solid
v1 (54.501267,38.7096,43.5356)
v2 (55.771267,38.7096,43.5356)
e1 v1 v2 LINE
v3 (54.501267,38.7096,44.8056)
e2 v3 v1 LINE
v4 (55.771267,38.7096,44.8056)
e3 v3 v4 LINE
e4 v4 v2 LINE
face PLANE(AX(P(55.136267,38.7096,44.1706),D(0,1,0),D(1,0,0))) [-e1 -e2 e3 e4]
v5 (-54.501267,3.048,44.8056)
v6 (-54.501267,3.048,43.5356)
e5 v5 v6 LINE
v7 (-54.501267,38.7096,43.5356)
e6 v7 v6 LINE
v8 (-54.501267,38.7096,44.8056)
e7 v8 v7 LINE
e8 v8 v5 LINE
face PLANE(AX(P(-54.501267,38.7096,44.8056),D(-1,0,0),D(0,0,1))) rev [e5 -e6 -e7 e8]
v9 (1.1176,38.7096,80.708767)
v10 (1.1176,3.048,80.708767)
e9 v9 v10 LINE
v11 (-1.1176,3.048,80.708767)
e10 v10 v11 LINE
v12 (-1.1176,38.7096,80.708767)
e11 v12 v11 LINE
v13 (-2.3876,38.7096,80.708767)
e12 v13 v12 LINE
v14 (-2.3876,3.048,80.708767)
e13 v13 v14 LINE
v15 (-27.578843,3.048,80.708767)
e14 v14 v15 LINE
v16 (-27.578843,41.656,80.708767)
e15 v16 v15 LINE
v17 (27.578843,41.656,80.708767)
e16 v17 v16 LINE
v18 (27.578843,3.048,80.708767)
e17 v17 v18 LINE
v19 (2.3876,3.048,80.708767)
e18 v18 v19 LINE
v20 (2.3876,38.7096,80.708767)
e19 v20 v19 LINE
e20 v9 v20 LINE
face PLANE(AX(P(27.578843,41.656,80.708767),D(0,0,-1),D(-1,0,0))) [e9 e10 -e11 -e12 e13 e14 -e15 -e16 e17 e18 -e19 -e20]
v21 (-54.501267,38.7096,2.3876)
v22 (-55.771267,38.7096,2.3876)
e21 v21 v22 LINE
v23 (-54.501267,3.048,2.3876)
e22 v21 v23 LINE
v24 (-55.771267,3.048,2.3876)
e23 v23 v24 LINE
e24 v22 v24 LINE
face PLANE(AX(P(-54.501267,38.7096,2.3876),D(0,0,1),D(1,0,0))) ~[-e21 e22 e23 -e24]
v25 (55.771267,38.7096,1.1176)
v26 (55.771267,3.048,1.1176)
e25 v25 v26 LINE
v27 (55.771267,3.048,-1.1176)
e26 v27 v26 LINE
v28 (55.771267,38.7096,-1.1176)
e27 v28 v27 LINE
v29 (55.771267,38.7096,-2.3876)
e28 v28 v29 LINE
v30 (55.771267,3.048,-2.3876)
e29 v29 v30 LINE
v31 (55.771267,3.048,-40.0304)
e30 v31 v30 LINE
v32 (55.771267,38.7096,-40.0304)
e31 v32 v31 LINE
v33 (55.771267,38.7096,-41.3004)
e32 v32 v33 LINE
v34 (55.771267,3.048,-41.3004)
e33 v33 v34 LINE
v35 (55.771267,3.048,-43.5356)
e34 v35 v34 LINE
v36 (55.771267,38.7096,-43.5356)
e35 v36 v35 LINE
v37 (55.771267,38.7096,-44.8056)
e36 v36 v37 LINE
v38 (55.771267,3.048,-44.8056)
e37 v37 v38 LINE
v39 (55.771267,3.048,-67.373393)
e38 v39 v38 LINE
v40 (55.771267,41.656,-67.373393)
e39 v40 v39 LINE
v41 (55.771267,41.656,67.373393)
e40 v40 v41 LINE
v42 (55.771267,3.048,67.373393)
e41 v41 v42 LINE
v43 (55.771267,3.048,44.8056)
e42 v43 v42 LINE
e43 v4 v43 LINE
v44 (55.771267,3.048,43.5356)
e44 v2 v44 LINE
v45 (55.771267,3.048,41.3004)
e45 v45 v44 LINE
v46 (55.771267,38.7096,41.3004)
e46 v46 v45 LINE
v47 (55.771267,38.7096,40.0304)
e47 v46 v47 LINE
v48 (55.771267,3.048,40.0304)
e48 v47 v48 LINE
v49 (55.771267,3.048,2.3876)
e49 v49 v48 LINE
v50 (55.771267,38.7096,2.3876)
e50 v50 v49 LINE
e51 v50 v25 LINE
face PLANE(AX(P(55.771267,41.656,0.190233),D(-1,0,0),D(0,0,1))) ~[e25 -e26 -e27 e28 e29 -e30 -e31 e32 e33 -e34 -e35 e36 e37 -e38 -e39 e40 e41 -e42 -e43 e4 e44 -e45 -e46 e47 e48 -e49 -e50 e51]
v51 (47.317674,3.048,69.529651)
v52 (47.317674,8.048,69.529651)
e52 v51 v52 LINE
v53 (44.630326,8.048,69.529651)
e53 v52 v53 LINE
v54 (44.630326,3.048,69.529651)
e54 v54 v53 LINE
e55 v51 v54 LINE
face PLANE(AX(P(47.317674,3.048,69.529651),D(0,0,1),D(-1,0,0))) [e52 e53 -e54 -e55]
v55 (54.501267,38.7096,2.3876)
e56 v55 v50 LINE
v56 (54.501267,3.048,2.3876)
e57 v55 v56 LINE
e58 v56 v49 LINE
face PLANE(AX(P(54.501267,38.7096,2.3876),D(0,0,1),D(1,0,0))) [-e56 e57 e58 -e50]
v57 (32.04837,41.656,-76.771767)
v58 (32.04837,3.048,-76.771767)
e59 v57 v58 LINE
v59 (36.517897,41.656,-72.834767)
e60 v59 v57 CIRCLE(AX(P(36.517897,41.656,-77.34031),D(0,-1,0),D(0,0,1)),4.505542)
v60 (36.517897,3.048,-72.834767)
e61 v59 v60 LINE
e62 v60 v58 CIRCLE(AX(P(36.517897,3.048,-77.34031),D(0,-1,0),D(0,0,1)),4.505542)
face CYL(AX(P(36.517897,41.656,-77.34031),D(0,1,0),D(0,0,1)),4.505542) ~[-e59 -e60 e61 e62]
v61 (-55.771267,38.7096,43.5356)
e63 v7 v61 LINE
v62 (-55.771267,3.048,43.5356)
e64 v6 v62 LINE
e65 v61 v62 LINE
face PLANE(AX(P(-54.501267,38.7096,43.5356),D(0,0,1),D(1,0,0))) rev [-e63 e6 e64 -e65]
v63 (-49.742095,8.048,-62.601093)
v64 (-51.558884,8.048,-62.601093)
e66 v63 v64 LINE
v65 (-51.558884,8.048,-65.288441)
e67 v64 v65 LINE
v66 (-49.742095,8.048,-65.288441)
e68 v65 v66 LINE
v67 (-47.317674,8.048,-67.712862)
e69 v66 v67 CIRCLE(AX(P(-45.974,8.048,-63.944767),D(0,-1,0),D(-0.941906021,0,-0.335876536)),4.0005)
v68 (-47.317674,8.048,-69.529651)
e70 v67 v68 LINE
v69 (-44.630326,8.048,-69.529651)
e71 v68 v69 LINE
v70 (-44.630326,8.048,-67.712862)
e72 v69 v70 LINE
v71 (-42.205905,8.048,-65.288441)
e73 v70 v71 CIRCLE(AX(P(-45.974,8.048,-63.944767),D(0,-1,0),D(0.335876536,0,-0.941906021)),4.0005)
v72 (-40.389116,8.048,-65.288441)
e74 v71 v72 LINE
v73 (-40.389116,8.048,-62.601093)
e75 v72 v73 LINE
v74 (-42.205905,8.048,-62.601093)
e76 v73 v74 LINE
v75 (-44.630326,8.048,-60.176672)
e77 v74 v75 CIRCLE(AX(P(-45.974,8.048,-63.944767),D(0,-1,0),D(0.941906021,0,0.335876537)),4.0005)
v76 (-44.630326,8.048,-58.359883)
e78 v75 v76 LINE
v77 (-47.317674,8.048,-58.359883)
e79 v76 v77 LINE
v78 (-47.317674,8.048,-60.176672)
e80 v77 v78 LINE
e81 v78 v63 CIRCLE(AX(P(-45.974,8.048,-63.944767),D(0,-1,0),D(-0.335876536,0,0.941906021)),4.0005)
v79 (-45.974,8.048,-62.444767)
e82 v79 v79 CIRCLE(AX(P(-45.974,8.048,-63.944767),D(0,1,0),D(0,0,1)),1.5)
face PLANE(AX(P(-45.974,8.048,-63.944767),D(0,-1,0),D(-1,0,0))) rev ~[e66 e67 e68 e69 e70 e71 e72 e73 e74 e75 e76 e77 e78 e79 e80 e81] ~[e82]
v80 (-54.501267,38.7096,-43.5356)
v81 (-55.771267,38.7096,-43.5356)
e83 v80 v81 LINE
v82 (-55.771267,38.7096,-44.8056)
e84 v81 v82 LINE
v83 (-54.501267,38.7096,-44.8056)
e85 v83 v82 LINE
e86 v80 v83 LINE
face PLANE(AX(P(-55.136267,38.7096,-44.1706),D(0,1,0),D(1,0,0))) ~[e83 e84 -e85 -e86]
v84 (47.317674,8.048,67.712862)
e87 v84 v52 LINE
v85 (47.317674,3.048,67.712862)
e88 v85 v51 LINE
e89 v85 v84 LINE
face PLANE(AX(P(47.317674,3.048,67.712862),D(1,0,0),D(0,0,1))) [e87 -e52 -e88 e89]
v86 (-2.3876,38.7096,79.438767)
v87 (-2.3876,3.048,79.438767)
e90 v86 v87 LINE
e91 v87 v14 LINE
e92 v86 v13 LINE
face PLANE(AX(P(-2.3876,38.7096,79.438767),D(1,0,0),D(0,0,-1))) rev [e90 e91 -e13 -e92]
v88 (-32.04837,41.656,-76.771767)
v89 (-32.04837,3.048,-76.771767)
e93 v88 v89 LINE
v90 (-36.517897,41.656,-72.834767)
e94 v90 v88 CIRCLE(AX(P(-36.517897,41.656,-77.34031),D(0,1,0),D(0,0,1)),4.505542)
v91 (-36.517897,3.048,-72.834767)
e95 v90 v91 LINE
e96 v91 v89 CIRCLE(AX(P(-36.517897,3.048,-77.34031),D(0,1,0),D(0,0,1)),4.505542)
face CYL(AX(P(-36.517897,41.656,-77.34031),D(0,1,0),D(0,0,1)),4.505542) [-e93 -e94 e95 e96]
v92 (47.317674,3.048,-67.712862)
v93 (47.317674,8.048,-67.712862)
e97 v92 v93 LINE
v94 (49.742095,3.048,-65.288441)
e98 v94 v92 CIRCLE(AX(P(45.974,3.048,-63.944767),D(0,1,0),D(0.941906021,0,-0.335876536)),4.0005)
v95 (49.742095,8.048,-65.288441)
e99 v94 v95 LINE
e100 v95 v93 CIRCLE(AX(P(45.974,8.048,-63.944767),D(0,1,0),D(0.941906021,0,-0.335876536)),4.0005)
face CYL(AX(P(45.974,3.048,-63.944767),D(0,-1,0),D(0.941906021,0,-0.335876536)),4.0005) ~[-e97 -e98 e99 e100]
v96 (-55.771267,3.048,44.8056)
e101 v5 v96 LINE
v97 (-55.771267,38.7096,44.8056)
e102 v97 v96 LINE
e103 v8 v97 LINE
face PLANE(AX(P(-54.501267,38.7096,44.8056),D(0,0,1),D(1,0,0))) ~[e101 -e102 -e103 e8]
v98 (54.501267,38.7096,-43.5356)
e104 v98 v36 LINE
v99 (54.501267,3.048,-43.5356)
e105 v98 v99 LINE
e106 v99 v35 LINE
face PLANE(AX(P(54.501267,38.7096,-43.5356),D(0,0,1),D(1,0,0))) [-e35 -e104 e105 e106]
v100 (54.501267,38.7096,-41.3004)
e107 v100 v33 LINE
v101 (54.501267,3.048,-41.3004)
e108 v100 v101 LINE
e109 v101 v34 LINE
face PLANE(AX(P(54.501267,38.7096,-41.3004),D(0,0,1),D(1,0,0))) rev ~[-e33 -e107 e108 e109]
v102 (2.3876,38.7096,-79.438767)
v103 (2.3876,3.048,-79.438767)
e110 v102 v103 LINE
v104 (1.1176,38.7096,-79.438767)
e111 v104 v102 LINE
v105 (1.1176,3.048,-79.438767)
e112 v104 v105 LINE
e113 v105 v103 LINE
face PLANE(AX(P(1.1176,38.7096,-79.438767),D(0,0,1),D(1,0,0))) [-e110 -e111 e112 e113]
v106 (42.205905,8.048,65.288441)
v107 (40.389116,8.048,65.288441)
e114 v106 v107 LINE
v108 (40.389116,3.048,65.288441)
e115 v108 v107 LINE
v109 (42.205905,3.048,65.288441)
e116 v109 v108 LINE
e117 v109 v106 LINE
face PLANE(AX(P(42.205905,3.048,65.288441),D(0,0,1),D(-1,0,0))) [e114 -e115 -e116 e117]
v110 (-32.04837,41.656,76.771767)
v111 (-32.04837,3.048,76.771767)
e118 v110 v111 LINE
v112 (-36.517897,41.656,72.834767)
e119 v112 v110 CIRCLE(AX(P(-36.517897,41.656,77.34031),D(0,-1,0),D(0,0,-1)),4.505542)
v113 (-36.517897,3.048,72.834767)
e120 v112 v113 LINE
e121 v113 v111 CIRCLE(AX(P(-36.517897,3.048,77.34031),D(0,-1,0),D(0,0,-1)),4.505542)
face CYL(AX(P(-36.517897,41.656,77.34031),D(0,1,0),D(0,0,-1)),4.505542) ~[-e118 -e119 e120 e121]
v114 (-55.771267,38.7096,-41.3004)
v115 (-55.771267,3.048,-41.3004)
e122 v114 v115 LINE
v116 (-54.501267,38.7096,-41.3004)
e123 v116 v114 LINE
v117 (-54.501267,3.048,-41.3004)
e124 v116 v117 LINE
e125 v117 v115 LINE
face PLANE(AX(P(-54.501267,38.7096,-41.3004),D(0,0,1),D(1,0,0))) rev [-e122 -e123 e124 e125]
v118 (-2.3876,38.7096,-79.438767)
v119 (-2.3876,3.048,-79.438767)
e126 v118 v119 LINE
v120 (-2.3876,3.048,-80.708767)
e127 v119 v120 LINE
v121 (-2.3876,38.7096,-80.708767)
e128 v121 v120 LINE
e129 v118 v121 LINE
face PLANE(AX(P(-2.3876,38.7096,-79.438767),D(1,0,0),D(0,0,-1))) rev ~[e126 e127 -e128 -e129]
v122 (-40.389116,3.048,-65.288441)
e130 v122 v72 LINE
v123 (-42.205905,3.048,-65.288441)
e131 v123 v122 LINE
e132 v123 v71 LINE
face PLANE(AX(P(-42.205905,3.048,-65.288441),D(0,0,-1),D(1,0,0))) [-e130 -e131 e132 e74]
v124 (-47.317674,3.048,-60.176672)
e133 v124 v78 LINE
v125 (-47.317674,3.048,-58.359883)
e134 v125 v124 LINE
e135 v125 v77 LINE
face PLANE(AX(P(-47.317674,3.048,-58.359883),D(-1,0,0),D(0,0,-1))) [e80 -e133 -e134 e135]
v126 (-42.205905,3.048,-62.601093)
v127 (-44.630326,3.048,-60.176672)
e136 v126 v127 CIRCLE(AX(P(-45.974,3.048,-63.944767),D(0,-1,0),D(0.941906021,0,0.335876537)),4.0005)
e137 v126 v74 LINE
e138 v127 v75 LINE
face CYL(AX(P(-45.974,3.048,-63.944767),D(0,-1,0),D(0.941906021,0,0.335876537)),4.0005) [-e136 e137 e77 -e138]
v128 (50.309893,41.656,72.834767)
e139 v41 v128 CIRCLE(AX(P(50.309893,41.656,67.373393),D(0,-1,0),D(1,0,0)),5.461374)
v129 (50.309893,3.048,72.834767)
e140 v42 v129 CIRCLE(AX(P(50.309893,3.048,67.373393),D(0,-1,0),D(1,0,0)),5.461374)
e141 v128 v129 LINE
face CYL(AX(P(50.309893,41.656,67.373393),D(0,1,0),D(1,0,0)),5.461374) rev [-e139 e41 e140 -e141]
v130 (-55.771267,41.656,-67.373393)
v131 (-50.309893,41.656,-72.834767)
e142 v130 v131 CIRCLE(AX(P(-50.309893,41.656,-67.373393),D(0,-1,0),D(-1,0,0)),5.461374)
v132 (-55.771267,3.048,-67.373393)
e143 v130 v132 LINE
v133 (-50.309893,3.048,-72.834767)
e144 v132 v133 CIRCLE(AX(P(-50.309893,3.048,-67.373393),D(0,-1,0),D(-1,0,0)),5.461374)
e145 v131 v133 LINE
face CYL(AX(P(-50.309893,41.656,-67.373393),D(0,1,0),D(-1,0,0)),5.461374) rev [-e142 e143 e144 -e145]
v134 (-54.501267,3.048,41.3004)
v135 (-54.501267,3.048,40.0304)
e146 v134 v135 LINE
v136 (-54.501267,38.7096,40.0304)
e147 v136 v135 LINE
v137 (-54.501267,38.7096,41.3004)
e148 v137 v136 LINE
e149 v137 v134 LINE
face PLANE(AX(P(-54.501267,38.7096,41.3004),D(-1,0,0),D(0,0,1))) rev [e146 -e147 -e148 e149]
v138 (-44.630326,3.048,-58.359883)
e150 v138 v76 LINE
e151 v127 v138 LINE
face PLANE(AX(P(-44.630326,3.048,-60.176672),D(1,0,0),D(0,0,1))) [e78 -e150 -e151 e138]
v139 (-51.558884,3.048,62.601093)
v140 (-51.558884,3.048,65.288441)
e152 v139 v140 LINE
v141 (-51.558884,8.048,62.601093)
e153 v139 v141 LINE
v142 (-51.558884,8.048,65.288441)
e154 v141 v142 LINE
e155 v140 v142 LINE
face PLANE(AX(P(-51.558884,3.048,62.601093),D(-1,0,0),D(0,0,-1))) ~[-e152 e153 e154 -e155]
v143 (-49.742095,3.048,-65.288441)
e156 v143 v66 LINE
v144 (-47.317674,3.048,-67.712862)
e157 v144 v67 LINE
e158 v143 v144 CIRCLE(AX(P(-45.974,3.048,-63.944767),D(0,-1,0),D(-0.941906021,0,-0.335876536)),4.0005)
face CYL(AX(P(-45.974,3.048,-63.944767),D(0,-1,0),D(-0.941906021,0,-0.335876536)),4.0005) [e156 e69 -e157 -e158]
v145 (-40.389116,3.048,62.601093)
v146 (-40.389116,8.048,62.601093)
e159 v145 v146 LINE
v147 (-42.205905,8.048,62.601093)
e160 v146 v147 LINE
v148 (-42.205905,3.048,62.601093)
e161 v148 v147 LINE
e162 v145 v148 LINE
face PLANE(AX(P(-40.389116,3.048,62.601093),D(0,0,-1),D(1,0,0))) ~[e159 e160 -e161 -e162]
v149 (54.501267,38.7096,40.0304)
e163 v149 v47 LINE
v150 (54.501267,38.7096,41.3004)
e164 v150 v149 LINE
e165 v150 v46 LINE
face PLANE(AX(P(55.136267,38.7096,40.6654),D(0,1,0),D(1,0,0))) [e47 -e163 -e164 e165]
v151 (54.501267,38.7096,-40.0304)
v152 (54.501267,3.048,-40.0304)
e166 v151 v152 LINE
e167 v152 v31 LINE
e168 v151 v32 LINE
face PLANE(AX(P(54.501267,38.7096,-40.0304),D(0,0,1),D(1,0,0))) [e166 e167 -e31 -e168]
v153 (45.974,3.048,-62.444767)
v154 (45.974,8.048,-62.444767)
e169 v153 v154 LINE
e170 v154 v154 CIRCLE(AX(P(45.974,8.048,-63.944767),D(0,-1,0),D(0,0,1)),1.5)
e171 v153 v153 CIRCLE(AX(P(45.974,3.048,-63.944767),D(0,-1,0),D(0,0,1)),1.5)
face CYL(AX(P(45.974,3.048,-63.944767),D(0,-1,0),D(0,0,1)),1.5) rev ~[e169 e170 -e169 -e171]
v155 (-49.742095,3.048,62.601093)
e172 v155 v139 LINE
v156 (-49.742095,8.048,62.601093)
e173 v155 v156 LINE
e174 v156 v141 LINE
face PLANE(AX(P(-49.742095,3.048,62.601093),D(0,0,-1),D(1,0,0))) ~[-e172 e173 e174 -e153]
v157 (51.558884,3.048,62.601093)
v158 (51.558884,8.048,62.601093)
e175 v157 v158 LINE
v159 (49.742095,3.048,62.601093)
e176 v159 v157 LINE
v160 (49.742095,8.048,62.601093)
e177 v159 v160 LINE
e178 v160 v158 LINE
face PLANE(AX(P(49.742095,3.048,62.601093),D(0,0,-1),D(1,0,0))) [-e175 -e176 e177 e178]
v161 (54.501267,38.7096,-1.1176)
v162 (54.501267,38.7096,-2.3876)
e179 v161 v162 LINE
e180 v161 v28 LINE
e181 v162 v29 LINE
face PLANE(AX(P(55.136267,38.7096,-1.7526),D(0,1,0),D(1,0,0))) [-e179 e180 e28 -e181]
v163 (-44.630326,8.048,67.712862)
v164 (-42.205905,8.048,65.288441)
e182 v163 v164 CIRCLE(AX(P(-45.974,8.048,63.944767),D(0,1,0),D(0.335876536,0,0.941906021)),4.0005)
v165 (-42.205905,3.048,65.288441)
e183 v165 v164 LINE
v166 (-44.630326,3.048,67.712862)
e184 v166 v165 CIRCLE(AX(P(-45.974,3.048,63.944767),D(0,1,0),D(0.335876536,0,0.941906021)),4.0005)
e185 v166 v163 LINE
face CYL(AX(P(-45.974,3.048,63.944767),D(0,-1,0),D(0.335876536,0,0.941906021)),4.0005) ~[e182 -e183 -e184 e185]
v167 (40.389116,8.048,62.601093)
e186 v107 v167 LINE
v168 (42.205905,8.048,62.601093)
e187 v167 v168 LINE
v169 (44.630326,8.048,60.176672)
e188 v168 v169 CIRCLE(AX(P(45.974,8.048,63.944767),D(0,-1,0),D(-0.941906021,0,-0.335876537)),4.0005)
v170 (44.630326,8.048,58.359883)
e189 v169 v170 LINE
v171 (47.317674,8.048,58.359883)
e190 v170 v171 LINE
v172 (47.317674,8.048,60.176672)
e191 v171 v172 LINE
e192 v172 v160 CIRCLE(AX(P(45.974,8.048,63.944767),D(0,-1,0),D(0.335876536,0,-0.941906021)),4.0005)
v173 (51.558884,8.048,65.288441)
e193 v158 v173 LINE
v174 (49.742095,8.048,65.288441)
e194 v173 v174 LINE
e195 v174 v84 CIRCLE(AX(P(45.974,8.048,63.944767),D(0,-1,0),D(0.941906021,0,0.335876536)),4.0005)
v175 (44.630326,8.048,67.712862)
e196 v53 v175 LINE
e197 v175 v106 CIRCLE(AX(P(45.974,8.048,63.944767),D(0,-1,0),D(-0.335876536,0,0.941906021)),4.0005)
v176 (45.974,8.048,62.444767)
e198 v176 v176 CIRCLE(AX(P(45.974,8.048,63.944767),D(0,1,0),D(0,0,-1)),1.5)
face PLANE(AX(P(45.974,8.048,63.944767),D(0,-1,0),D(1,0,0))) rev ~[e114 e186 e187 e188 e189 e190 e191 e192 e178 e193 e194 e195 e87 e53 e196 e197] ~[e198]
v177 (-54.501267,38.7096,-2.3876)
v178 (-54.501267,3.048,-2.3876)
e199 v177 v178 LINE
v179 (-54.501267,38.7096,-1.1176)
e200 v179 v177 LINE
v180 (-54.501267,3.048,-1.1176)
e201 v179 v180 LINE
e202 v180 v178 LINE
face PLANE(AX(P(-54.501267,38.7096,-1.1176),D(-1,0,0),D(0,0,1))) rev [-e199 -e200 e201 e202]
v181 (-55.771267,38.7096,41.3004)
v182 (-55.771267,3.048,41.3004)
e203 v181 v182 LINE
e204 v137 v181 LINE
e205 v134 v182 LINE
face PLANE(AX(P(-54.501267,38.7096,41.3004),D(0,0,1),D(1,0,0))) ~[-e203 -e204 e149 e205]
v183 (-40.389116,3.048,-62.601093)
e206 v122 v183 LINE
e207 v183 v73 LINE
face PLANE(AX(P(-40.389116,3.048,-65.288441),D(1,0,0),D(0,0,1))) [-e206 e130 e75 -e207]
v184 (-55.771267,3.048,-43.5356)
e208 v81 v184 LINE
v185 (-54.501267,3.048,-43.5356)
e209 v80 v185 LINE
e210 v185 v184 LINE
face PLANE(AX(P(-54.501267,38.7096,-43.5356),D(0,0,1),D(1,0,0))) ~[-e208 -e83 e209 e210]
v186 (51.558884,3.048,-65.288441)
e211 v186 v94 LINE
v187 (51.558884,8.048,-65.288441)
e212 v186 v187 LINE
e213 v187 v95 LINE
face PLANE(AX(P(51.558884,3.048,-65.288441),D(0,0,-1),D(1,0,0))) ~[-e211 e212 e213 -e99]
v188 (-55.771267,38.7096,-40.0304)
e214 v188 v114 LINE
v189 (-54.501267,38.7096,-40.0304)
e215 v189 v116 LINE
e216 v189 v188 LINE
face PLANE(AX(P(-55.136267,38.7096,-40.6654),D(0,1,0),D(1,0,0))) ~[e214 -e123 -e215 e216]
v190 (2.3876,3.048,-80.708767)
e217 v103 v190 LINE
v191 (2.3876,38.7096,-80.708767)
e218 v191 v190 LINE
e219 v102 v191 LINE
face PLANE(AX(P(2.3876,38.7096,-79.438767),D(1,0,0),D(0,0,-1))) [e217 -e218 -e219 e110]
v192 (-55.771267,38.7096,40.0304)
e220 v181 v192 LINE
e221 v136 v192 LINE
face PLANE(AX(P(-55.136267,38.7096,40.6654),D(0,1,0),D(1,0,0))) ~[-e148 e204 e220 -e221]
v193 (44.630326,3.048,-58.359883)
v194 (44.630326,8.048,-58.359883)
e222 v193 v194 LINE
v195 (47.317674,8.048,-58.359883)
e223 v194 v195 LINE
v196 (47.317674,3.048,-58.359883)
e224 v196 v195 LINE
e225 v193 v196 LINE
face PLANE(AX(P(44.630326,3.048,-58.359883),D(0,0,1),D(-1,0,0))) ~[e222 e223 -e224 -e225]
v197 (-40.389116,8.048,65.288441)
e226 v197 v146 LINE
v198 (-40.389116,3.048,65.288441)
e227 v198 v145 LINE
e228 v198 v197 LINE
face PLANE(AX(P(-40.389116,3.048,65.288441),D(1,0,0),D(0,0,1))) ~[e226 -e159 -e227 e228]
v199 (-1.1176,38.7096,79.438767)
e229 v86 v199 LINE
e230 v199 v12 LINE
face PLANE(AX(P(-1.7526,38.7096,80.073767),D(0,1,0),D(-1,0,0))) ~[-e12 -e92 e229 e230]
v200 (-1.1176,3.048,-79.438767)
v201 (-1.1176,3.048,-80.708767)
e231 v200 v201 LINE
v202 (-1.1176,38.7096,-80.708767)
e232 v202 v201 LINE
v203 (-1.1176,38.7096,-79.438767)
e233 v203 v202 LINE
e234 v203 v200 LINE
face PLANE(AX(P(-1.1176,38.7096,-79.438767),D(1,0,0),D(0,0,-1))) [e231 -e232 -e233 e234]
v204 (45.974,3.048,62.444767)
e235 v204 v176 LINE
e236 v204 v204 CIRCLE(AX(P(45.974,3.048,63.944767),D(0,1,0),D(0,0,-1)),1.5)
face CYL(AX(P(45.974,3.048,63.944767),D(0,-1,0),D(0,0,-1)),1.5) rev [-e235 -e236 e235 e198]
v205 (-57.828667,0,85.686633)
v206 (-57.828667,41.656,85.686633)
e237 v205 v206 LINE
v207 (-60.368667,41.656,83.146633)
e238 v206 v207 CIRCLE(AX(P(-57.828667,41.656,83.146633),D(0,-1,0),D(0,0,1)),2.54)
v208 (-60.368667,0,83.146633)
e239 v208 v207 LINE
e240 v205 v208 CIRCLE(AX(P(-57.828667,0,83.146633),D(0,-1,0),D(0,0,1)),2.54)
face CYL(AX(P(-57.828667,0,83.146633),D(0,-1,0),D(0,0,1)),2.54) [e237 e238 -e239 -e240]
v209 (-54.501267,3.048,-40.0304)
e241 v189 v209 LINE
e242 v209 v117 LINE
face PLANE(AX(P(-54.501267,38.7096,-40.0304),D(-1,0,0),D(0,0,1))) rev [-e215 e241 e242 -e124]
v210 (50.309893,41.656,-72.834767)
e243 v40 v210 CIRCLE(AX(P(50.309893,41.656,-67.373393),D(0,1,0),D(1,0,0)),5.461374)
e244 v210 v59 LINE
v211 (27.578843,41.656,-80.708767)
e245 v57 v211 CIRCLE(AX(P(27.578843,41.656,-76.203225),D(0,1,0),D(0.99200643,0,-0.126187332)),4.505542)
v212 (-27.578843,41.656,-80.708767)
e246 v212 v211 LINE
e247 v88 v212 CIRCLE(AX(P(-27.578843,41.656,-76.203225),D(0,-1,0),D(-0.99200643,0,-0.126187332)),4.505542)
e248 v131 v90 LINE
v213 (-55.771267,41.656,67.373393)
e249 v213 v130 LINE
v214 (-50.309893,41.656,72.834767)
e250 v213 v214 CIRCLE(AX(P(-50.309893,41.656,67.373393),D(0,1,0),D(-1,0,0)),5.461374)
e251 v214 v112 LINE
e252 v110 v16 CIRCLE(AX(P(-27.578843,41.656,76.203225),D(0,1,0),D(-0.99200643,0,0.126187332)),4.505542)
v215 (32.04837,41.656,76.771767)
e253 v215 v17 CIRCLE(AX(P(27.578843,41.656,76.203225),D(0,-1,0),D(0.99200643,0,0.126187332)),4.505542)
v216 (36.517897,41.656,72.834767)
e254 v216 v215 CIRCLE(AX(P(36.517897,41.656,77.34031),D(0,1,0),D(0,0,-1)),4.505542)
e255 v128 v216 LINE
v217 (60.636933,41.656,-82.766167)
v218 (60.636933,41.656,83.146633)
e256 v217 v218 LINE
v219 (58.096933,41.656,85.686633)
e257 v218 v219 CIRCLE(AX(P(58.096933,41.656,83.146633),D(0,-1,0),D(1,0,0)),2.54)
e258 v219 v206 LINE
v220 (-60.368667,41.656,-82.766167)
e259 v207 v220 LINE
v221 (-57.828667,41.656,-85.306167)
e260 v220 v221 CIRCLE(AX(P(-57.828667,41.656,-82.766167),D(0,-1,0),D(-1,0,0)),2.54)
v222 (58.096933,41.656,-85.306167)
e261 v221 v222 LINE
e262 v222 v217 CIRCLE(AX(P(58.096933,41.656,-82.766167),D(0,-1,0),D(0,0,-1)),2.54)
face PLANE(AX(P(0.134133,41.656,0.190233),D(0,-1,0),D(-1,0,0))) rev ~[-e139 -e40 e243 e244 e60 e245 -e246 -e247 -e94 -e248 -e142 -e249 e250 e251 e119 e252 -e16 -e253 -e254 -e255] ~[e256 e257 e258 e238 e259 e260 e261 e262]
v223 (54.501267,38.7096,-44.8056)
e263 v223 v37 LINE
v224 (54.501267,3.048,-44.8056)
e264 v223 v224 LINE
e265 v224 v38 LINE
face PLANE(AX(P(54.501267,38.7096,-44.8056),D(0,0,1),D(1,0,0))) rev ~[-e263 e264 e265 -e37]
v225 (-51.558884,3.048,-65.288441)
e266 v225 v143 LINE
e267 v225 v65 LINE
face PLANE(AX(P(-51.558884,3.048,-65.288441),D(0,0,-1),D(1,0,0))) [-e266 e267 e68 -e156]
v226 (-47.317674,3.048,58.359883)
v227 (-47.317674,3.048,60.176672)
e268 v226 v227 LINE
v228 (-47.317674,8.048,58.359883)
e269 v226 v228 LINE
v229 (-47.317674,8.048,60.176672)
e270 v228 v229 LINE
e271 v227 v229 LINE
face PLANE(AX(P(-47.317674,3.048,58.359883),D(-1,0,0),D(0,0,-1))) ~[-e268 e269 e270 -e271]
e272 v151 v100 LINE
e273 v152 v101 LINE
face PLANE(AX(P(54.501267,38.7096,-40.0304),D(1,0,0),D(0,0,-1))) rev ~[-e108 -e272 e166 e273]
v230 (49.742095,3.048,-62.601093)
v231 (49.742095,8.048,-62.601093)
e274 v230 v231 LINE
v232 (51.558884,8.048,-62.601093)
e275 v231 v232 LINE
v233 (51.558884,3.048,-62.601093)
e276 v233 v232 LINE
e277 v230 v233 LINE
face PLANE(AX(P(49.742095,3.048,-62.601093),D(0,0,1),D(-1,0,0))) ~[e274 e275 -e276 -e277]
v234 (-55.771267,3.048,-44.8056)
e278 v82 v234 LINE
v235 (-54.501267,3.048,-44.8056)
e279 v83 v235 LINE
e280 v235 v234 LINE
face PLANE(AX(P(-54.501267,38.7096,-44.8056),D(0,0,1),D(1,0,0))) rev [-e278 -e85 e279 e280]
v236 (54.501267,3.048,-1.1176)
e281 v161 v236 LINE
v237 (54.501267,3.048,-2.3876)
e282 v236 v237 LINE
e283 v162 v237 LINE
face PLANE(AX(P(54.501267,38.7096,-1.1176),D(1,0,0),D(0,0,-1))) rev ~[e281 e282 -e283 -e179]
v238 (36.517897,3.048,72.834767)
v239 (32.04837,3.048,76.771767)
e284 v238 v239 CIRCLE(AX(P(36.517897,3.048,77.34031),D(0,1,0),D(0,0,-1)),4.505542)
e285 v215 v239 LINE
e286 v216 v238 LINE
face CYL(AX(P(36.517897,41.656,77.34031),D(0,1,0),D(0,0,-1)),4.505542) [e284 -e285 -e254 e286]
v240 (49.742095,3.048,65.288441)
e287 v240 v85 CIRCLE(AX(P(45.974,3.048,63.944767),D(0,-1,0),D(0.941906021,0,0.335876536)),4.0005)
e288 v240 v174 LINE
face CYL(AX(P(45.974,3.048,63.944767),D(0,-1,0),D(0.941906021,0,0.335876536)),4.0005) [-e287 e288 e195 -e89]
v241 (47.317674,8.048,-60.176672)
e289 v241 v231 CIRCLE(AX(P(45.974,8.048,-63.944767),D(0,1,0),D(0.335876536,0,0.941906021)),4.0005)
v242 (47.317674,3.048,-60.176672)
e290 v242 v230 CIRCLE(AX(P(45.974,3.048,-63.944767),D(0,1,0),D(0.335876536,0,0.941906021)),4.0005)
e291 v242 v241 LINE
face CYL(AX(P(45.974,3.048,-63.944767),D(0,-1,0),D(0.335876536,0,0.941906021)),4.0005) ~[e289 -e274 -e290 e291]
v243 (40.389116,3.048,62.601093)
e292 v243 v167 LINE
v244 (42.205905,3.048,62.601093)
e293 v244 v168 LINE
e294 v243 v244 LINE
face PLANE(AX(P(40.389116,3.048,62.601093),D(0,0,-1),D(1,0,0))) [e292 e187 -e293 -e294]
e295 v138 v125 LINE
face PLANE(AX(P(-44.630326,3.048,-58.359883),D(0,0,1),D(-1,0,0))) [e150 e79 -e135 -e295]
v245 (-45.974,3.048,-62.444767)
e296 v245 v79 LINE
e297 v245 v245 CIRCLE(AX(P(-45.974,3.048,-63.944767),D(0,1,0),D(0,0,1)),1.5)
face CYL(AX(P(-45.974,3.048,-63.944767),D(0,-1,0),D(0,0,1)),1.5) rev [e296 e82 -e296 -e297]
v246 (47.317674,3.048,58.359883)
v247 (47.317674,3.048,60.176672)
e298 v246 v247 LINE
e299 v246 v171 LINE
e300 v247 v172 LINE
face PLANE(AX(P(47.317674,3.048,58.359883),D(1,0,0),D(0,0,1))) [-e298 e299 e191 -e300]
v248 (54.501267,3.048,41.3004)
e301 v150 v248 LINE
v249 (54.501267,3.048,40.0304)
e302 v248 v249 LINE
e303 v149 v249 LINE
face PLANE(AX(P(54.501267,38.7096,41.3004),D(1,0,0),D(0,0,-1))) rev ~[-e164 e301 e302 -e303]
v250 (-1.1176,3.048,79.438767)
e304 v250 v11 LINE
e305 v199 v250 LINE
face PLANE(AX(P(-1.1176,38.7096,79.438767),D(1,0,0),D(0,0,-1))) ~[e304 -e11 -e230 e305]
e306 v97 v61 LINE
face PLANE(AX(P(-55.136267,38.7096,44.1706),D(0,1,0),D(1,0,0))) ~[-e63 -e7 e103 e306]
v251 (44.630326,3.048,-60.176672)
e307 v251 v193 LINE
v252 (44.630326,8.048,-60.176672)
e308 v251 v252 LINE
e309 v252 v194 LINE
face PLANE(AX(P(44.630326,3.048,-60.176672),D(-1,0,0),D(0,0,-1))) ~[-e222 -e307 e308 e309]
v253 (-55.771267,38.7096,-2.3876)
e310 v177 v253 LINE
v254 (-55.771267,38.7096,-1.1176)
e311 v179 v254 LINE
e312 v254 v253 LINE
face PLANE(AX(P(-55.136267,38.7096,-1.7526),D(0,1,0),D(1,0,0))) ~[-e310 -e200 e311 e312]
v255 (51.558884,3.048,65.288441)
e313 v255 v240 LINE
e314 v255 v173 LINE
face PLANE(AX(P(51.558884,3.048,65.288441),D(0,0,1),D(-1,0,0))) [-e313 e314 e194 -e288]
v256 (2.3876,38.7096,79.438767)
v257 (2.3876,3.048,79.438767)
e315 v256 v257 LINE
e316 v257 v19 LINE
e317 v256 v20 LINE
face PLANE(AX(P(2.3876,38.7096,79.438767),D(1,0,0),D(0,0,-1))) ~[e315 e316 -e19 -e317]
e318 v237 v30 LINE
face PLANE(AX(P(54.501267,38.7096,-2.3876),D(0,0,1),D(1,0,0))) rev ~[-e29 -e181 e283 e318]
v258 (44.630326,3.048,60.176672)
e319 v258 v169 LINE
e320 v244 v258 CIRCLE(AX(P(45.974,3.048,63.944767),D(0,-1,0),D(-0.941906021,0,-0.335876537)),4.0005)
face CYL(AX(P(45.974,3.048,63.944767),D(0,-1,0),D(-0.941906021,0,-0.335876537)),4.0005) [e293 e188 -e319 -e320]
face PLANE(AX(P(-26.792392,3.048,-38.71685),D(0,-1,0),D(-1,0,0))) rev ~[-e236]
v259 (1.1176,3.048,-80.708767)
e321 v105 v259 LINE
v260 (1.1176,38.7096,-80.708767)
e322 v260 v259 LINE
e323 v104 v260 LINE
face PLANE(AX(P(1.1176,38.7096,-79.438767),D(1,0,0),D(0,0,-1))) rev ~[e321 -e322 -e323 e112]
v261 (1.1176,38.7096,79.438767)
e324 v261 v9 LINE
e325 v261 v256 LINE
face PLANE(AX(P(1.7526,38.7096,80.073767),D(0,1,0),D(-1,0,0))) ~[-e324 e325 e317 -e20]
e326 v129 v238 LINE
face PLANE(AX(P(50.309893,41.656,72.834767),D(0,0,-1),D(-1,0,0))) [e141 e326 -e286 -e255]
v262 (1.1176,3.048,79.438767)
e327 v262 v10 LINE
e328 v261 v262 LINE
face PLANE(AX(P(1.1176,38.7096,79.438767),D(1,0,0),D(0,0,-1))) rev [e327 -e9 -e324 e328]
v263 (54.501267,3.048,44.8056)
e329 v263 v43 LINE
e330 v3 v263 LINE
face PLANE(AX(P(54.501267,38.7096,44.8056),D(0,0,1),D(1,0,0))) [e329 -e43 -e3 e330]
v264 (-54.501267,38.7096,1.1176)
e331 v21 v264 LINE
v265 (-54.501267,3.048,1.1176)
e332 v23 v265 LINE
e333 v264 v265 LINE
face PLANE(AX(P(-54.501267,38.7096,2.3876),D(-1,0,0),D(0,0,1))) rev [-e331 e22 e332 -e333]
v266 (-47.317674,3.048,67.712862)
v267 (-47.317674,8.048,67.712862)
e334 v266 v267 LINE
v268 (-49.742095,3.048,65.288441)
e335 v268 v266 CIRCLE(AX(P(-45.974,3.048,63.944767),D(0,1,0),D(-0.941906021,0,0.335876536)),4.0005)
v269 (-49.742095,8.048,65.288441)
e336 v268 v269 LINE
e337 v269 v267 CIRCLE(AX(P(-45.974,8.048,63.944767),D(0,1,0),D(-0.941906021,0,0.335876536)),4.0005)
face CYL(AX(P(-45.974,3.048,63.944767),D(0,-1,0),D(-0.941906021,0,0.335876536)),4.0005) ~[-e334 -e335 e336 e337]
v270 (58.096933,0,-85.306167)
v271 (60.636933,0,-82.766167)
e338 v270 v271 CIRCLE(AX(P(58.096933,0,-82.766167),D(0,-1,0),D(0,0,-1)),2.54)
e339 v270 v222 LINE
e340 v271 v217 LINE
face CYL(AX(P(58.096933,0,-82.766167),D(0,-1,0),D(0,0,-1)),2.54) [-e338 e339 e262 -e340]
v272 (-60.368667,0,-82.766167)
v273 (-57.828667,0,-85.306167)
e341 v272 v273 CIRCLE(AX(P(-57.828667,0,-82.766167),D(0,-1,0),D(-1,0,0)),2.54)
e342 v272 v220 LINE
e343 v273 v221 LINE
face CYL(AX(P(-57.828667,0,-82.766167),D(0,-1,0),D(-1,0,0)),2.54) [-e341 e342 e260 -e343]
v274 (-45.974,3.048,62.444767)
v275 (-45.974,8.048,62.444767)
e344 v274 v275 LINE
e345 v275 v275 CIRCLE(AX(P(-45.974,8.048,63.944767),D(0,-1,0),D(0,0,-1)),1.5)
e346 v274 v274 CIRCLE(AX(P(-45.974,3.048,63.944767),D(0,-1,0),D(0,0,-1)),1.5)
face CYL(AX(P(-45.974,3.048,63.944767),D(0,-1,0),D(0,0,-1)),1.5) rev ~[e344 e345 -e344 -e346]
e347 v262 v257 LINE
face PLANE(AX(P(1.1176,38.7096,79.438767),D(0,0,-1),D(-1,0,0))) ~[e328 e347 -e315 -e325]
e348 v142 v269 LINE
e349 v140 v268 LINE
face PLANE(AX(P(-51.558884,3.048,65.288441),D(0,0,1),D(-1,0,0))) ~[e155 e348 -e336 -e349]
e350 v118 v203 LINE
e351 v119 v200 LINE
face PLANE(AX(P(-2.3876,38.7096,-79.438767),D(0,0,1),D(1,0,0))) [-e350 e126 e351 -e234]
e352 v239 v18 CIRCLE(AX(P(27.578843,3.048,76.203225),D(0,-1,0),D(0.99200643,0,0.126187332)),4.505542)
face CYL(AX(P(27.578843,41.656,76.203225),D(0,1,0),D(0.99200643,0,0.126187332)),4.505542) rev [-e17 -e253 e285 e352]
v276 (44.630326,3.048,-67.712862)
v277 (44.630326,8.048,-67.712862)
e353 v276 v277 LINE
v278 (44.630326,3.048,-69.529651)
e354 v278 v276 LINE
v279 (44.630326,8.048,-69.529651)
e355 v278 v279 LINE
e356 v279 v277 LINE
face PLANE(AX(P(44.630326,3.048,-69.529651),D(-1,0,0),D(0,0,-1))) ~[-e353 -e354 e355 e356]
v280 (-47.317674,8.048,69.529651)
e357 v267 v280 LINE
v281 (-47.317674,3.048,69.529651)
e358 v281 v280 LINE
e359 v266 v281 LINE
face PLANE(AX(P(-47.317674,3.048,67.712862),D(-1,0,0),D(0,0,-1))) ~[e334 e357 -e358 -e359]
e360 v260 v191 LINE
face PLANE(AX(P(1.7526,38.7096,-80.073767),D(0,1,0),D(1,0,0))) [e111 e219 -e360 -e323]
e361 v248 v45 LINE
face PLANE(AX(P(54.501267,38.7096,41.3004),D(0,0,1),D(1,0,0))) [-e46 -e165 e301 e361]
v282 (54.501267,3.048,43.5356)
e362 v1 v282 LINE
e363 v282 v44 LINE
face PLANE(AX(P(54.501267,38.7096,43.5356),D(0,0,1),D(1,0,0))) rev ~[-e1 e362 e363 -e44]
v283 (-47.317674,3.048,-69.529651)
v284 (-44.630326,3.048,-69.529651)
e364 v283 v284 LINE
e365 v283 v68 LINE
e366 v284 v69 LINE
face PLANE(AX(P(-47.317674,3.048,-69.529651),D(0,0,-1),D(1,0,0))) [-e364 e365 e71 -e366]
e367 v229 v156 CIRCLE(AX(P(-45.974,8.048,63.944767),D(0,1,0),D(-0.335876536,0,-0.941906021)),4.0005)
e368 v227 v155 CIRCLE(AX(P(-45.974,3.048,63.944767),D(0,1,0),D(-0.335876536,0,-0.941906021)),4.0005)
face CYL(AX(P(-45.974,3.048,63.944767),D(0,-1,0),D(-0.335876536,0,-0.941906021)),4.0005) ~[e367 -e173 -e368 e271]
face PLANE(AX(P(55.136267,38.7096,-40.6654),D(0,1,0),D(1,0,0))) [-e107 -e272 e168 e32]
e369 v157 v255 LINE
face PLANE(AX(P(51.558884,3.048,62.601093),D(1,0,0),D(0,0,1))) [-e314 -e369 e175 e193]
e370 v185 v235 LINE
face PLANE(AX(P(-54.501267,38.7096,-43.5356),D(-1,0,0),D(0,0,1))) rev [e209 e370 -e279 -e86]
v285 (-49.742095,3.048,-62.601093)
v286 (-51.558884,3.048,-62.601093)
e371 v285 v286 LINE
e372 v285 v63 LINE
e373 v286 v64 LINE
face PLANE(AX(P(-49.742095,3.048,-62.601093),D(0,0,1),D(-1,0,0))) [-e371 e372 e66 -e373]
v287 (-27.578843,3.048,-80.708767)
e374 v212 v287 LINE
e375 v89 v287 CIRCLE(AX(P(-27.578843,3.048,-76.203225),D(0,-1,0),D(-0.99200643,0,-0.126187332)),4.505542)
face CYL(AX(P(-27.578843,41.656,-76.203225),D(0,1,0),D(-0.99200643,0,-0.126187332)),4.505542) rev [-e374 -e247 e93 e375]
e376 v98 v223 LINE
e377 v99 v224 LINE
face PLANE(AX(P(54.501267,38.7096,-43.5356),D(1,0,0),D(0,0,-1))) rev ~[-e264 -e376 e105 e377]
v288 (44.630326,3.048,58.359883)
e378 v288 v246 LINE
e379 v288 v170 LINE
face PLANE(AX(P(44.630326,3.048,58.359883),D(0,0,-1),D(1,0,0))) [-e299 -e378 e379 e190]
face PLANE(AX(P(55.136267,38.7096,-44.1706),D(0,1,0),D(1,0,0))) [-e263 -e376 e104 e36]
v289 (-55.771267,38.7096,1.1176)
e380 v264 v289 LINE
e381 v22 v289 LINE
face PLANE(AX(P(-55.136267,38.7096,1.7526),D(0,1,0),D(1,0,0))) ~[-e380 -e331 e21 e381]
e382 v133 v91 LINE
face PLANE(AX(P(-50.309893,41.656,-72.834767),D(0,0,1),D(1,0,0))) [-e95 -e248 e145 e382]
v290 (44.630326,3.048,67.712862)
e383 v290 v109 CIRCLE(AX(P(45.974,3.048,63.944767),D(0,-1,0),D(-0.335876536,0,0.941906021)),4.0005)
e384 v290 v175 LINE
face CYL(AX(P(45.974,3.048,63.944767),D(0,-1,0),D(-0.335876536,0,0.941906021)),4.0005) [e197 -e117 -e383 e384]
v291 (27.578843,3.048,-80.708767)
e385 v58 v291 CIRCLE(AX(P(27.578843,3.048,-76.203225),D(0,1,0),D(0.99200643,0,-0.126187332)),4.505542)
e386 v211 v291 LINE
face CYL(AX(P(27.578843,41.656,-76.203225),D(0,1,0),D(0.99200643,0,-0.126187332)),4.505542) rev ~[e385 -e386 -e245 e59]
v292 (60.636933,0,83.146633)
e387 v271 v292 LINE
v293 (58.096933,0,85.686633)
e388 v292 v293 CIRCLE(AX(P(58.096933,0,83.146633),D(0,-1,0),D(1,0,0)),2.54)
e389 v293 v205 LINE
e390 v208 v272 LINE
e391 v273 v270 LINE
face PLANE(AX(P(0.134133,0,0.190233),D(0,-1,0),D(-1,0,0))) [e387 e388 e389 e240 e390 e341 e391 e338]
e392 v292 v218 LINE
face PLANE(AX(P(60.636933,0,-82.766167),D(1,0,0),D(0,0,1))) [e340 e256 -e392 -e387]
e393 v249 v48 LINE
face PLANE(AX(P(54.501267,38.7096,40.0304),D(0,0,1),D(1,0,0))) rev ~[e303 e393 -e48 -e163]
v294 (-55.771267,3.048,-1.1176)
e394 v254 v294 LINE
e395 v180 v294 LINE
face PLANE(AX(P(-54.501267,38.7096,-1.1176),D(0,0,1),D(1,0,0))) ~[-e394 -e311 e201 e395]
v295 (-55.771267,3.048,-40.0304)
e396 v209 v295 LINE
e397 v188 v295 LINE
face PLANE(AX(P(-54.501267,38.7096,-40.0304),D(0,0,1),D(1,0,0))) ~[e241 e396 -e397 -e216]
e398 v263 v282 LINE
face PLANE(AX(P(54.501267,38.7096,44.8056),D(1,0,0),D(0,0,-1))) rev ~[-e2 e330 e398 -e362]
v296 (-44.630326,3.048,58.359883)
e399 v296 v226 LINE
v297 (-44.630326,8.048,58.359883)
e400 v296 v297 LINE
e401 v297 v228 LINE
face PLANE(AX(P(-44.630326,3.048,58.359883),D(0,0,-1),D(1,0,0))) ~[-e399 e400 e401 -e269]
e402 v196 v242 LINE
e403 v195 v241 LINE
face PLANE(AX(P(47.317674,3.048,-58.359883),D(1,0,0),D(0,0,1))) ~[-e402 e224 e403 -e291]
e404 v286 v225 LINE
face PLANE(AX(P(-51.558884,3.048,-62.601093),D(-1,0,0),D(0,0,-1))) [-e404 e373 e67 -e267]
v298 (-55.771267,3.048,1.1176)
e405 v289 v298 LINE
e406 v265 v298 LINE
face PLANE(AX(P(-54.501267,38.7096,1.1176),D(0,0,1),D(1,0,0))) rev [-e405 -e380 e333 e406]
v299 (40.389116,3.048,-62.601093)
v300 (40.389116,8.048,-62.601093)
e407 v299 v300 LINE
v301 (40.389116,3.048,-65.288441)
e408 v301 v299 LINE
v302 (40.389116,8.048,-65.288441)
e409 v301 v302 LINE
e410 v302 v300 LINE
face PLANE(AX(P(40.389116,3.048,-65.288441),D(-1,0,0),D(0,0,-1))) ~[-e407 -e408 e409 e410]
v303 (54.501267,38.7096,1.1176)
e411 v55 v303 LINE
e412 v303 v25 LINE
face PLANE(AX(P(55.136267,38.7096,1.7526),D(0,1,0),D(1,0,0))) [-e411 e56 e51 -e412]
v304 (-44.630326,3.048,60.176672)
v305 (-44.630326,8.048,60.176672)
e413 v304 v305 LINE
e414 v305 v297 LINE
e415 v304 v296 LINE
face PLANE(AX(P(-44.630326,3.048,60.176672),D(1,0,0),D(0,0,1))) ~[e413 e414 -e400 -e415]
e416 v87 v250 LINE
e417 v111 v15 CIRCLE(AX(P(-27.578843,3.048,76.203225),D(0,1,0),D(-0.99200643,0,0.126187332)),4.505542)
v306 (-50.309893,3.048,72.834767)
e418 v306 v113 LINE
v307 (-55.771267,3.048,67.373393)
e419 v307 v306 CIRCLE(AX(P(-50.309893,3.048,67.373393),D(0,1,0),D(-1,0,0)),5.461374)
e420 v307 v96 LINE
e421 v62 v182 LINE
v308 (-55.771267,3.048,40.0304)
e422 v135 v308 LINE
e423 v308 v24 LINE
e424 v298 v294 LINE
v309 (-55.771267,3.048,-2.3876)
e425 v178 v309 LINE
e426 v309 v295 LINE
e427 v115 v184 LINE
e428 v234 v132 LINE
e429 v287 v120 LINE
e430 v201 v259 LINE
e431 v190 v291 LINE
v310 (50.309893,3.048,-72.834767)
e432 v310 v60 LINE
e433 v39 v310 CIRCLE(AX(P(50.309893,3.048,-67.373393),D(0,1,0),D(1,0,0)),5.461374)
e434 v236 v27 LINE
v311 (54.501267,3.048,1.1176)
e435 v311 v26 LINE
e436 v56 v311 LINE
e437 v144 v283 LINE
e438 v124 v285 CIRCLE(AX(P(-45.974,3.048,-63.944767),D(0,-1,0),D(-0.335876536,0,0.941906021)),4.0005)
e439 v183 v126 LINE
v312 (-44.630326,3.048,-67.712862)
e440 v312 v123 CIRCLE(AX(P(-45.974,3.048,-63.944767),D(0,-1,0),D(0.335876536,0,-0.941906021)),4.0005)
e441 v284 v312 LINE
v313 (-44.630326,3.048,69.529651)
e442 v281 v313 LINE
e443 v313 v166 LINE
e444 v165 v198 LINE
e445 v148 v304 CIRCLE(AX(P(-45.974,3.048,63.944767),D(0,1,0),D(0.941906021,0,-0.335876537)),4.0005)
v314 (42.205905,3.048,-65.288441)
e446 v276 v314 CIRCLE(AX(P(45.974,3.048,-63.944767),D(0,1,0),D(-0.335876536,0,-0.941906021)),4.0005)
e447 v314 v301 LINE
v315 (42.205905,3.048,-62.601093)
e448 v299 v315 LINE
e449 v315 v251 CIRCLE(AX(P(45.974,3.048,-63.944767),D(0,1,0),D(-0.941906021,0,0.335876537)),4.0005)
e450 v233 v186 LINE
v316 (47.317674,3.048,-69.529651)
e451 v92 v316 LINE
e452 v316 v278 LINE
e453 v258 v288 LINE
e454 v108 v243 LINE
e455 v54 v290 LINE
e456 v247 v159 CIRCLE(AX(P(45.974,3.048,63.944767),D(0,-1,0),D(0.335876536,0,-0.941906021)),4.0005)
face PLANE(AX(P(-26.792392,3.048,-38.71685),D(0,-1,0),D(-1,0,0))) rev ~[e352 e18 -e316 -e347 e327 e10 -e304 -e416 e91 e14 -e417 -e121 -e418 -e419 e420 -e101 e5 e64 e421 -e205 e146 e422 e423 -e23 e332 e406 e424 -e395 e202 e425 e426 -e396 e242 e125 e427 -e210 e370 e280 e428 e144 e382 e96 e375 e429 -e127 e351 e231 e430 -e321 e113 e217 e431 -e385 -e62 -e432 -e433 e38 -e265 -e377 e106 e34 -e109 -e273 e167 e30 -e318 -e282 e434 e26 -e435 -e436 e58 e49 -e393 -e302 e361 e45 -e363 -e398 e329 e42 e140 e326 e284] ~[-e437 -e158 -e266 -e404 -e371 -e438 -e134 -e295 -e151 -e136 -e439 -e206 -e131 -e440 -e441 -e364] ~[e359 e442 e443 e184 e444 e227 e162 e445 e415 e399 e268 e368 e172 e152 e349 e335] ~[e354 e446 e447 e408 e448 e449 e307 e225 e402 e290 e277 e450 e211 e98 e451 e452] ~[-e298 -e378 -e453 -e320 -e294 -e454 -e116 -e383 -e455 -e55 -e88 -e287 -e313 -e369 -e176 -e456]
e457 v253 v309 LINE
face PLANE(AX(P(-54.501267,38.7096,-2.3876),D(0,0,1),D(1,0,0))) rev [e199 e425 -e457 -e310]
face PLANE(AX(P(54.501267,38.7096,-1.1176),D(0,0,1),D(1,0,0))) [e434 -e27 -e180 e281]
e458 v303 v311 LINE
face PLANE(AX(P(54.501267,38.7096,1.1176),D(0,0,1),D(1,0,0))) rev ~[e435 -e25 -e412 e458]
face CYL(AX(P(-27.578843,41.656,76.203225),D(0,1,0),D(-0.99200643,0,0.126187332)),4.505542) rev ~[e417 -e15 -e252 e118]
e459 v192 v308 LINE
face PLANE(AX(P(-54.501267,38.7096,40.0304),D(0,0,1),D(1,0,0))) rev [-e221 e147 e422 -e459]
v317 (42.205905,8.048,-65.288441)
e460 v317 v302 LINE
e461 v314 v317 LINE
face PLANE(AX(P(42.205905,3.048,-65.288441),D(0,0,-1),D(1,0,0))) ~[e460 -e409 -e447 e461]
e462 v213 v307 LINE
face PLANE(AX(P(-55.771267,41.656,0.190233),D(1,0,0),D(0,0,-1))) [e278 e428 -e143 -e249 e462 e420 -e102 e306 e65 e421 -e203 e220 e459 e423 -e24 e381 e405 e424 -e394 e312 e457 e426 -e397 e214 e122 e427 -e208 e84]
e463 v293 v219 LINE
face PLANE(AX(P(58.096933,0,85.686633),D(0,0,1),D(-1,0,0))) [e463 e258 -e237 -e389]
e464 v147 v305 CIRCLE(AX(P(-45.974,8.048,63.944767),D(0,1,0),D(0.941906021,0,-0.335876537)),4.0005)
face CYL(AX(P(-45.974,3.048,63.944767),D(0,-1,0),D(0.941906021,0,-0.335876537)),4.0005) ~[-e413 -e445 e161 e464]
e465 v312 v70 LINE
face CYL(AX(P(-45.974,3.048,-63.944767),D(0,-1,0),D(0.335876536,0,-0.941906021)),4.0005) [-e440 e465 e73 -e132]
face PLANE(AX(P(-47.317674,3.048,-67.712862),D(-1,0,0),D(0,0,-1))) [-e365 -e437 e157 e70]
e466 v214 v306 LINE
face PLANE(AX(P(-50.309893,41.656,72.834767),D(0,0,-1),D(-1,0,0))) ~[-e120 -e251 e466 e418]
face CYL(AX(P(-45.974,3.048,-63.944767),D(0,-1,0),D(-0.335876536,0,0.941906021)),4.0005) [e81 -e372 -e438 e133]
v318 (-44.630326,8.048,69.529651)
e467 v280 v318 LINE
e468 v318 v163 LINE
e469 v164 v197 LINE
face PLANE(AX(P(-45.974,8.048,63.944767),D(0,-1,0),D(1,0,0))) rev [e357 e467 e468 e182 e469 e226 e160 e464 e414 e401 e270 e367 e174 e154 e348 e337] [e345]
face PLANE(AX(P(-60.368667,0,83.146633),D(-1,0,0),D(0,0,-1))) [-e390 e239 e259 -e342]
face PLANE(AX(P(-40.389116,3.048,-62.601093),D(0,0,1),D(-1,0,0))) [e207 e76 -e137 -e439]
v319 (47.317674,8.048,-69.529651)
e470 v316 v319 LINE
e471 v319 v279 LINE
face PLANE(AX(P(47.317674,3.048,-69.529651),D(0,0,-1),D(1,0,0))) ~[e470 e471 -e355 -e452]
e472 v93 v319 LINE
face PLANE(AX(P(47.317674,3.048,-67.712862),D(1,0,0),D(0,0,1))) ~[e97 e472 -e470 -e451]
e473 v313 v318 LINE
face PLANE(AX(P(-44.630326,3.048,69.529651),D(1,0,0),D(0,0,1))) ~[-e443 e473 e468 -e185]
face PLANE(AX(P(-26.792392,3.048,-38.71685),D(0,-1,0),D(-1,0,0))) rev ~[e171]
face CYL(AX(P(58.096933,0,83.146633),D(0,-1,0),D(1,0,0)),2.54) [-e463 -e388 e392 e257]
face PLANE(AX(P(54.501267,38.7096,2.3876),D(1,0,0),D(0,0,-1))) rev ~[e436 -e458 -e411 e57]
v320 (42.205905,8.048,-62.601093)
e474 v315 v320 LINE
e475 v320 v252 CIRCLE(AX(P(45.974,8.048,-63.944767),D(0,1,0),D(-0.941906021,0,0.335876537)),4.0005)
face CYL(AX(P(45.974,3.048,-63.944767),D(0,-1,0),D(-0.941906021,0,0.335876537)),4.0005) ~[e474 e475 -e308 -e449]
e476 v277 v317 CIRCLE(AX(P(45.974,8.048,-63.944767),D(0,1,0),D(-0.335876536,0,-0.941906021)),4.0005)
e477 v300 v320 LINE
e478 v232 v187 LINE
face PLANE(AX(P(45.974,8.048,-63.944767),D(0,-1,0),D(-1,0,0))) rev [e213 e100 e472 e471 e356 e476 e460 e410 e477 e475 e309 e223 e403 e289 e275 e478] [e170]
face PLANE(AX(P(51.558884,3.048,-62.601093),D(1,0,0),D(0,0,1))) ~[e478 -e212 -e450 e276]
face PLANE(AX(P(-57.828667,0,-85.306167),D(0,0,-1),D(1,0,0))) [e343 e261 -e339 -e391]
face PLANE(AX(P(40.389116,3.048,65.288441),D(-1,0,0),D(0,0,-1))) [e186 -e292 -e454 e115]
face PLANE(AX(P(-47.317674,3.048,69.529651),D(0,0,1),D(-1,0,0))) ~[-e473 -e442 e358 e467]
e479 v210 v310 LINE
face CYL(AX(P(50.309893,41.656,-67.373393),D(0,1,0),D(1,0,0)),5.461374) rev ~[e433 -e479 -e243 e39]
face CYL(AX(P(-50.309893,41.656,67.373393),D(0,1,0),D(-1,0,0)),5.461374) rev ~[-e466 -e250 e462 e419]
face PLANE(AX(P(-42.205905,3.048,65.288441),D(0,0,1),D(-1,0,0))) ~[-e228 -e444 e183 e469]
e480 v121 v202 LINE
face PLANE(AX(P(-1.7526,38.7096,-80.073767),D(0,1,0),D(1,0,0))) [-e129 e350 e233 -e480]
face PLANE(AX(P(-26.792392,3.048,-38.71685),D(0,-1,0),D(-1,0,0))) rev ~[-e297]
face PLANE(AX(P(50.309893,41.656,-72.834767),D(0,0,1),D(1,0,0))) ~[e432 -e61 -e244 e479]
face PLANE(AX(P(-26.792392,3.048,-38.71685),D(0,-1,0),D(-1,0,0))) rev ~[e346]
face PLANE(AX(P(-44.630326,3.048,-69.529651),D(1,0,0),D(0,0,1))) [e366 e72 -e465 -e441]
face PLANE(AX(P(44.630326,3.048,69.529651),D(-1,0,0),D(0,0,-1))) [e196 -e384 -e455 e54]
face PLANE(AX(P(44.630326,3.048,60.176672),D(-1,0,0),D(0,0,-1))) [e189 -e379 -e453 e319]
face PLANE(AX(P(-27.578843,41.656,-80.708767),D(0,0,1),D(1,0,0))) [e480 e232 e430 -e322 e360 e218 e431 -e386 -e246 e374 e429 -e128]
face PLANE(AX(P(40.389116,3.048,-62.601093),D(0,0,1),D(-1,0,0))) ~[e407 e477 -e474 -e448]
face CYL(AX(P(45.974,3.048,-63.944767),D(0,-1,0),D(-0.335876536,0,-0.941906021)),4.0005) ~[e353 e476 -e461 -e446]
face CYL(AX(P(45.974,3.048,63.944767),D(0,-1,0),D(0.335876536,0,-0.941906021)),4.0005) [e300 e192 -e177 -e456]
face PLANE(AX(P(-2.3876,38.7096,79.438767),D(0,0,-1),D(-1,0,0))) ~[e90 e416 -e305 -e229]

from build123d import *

# Parameters (mm, degrees)
BOSS_EXTRUDE1_DEPTH     = 41.656
CUT_EXTRUDE1_DEPTH      = 38.608
SKETCH7_R               = 1.5
BOSS_EXTRUDE2_DEPTH     = 5
MIRROR2_COPY_1_DEPTH    = 38.608
MIRROR2_COPY_2_SKETCH_R = 1.5
MIRROR2_COPY_2_DEPTH    = 5
BOSS_EXTRUDE3_START     = -2.9464
SKETCH9_W               = 1.27
SKETCH9_H               = 1.27
BOSS_EXTRUDE3_DEPTH     = 35.6616
BOSS_EXTRUDE4_START     = -2.9464
SKETCH10_W              = 1.27
SKETCH10_H              = 1.27
BOSS_EXTRUDE4_DEPTH     = 35.6616


with BuildPart() as part:
    # Sketch3 → Boss-Extrude1 (new body)
    with BuildSketch(Plane(origin=(0, 0, 0), x_dir=(1, 0, 0), z_dir=(0, 1, 0))):
        with BuildLine():
            Line((58.096932885, -85.686632753), (-57.828667115, -85.686632753))
            ThreePointArc((-57.828667115, -85.686632753), (-59.624718339, -84.942683977), (-60.368667115, -83.146632753))
            Line((-60.368667115, -83.146632753), (-60.368667115, 82.766167247))
            ThreePointArc((-60.368667115, 82.766167247), (-59.624718339, 84.562218471), (-57.828667115, 85.306167247))
            Line((-57.828667115, 85.306167247), (58.096932885, 85.306167247))
            ThreePointArc((58.096932885, 85.306167247), (59.892984109, 84.562218471), (60.636932885, 82.766167247))
            Line((60.636932885, 82.766167247), (60.636932885, -83.146632753))
            ThreePointArc((60.636932885, -83.146632753), (59.892984109, -84.942683977), (58.096932885, -85.686632753))
        make_face()
    extrude(amount=BOSS_EXTRUDE1_DEPTH)

    # Sketch6 → Cut-Extrude1 (cut)
    with BuildSketch(Plane(origin=(0, 41.656, 0), x_dir=(1, 0, 0), z_dir=(0, 1, 0))):
        with BuildLine():
            Line((-55.771267115, -0.190232753), (-55.771267115, 67.373392964))
            ThreePointArc((-55.771267115, 67.373392964), (-54.171667622, 71.235167754), (-50.309892833, 72.834767247))
            Line((-50.309892833, 72.834767247), (-36.517896511, 72.834767247))
            ThreePointArc((-36.517896511, 72.834767247), (-33.539782988, 73.959370118), (-32.04836951, 76.771767247))
            ThreePointArc((-32.04836951, 76.771767247), (-30.556956031, 79.584164375), (-27.578842508, 80.708767247))
            Line((-27.578842508, 80.708767247), (0.134132885, 80.708767247))
            Line((0.134132885, 80.708767247), (0.134132885, -0.190232753))
            Line((0.134132885, -0.190232753), (-55.771267115, -0.190232753))
        make_face()
    cut_extrude1 = extrude(amount=-CUT_EXTRUDE1_DEPTH, mode=Mode.SUBTRACT)

    # Sketch7 → Boss-Extrude2 (add)
    with BuildSketch(Plane(origin=(0, 3.048, 0), x_dir=(1, 0, 0), z_dir=(0, 1, 0))):
        with BuildLine():
            Line((-47.317674081, 67.712862285), (-47.317674081, 69.529651141))
            Line((-47.317674081, 69.529651141), (-44.630325919, 69.529651141))
            Line((-44.630325919, 69.529651141), (-44.630325919, 67.712862285))
            ThreePointArc((-44.630325919, 67.712862285), (-43.145219322, 66.773547925), (-42.205904962, 65.288441328))
            Line((-42.205904962, 65.288441328), (-40.389116105, 65.288441328))
            Line((-40.389116105, 65.288441328), (-40.389116105, 62.601093165))
            Line((-40.389116105, 62.601093165), (-42.205904962, 62.601093165))
            ThreePointArc((-42.205904962, 62.601093165), (-43.145219322, 61.115986569), (-44.630325919, 60.176672209))
            Line((-44.630325919, 60.176672209), (-44.630325919, 58.359883352))
            Line((-44.630325919, 58.359883352), (-47.317674081, 58.359883352))
            Line((-47.317674081, 58.359883352), (-47.317674081, 60.176672209))
            ThreePointArc((-47.317674081, 60.176672209), (-48.802780678, 61.115986569), (-49.742095038, 62.601093165))
            Line((-49.742095038, 62.601093165), (-51.558883895, 62.601093165))
            Line((-51.558883895, 62.601093165), (-51.558883895, 65.288441328))
            Line((-51.558883895, 65.288441328), (-49.742095038, 65.288441328))
            ThreePointArc((-49.742095038, 65.288441328), (-48.802780678, 66.773547925), (-47.317674081, 67.712862285))
        make_face()
        with Locations(Location((-45.974, 63.944767247, 0), (0, 0, 270))):
            Circle(SKETCH7_R, mode=Mode.SUBTRACT)
    boss_extrude2 = extrude(amount=BOSS_EXTRUDE2_DEPTH)

    # Mirror1: Cut-Extrude1, Boss-Extrude2 across plane
    add(cut_extrude1.mirror(Plane(origin=(0, 0, 0), x_dir=(0, 0, 1), z_dir=(1, 0, 0))), mode=Mode.SUBTRACT)
    add(boss_extrude2.mirror(Plane(origin=(0, 0, 0), x_dir=(0, 0, 1), z_dir=(1, 0, 0))))

    # Mirror2: Cut-Extrude1, Boss-Extrude2 across plane
    add(cut_extrude1.mirror(Plane.XY), mode=Mode.SUBTRACT)
    add(boss_extrude2.mirror(Plane.XY))

    # Mirror2 copy 1 sketch → Mirror2 copy 1 (cut)
    with BuildSketch(Plane(origin=(0, 41.656, 0), x_dir=(-1, 0, 0), z_dir=(0, 1, 0))):
        with BuildLine():
            Line((-55.771267115, -0.190232753), (-55.771267115, 67.373392964))
            ThreePointArc((-55.771267115, 67.373392964), (-54.171667622, 71.235167754), (-50.309892833, 72.834767247))
            Line((-50.309892833, 72.834767247), (-36.517896511, 72.834767247))
            ThreePointArc((-36.517896511, 72.834767247), (-33.539782988, 73.959370118), (-32.04836951, 76.771767247))
            ThreePointArc((-32.04836951, 76.771767247), (-30.556956031, 79.584164375), (-27.578842508, 80.708767247))
            Line((-27.578842508, 80.708767247), (0.134132885, 80.708767247))
            Line((0.134132885, 80.708767247), (0.134132885, -0.190232753))
            Line((0.134132885, -0.190232753), (-55.771267115, -0.190232753))
        make_face()
    extrude(amount=-MIRROR2_COPY_1_DEPTH, mode=Mode.SUBTRACT)

    # Mirror2 copy 2 sketch → Mirror2 copy 2 (add)
    with BuildSketch(Plane(origin=(0, 3.048, 0), x_dir=(-1, 0, 0), z_dir=(0, 1, 0))):
        with BuildLine():
            Line((-47.317674081, 67.712862285), (-47.317674081, 69.529651141))
            Line((-47.317674081, 69.529651141), (-44.630325919, 69.529651141))
            Line((-44.630325919, 69.529651141), (-44.630325919, 67.712862285))
            ThreePointArc((-44.630325919, 67.712862285), (-43.145219322, 66.773547925), (-42.205904962, 65.288441328))
            Line((-42.205904962, 65.288441328), (-40.389116105, 65.288441328))
            Line((-40.389116105, 65.288441328), (-40.389116105, 62.601093165))
            Line((-40.389116105, 62.601093165), (-42.205904962, 62.601093165))
            ThreePointArc((-42.205904962, 62.601093165), (-43.145219322, 61.115986569), (-44.630325919, 60.176672209))
            Line((-44.630325919, 60.176672209), (-44.630325919, 58.359883352))
            Line((-44.630325919, 58.359883352), (-47.317674081, 58.359883352))
            Line((-47.317674081, 58.359883352), (-47.317674081, 60.176672209))
            ThreePointArc((-47.317674081, 60.176672209), (-48.802780678, 61.115986569), (-49.742095038, 62.601093165))
            Line((-49.742095038, 62.601093165), (-51.558883895, 62.601093165))
            Line((-51.558883895, 62.601093165), (-51.558883895, 65.288441328))
            Line((-51.558883895, 65.288441328), (-49.742095038, 65.288441328))
            ThreePointArc((-49.742095038, 65.288441328), (-48.802780678, 66.773547925), (-47.317674081, 67.712862285))
        make_face()
        with Locations(Location((-45.974, 63.944767247, 0), (0, 0, 270))):
            Circle(MIRROR2_COPY_2_SKETCH_R, mode=Mode.SUBTRACT)
    extrude(amount=MIRROR2_COPY_2_DEPTH)

    # Sketch9 → Boss-Extrude3 (add)
    with BuildSketch(Plane(origin=(0, 41.656, 0), x_dir=(1, 0, 0), z_dir=(0, 1, 0)).offset(BOSS_EXTRUDE3_START)):
        with Locations((-1.7526, 80.073767247)):
            Rectangle(SKETCH9_W, SKETCH9_H)
        with Locations((1.7526, 80.073767247)):
            Rectangle(SKETCH9_W, SKETCH9_H)
    boss_extrude3 = extrude(amount=-BOSS_EXTRUDE3_DEPTH)

    # Mirror3: Boss-Extrude3 across plane
    add(boss_extrude3.mirror(Plane.XY))

    # Sketch10 → Boss-Extrude4 (add)
    with BuildSketch(Plane(origin=(0, 41.656, 0), x_dir=(1, 0, 0), z_dir=(0, 1, 0)).offset(BOSS_EXTRUDE4_START)):
        with Locations((55.136267115, -1.7526)):
            Rectangle(SKETCH10_W, SKETCH10_H)
        with Locations((55.136267115, 1.7526)):
            Rectangle(SKETCH10_W, SKETCH10_H)
        with Locations((55.136267115, 40.6654)):
            Rectangle(SKETCH10_W, SKETCH10_H)
        with Locations((55.136267115, 44.1706)):
            Rectangle(SKETCH10_W, SKETCH10_H)
        with Locations((55.136267115, -44.1706)):
            Rectangle(SKETCH10_W, SKETCH10_H)
        with Locations((55.136267115, -40.6654)):
            Rectangle(SKETCH10_W, SKETCH10_H)
    boss_extrude4 = extrude(amount=-BOSS_EXTRUDE4_DEPTH)

    # Mirror4: Boss-Extrude4 across plane
    add(boss_extrude4.mirror(Plane(origin=(0, 0, 0), x_dir=(0, 0, 1), z_dir=(1, 0, 0))))


solid = part.part
